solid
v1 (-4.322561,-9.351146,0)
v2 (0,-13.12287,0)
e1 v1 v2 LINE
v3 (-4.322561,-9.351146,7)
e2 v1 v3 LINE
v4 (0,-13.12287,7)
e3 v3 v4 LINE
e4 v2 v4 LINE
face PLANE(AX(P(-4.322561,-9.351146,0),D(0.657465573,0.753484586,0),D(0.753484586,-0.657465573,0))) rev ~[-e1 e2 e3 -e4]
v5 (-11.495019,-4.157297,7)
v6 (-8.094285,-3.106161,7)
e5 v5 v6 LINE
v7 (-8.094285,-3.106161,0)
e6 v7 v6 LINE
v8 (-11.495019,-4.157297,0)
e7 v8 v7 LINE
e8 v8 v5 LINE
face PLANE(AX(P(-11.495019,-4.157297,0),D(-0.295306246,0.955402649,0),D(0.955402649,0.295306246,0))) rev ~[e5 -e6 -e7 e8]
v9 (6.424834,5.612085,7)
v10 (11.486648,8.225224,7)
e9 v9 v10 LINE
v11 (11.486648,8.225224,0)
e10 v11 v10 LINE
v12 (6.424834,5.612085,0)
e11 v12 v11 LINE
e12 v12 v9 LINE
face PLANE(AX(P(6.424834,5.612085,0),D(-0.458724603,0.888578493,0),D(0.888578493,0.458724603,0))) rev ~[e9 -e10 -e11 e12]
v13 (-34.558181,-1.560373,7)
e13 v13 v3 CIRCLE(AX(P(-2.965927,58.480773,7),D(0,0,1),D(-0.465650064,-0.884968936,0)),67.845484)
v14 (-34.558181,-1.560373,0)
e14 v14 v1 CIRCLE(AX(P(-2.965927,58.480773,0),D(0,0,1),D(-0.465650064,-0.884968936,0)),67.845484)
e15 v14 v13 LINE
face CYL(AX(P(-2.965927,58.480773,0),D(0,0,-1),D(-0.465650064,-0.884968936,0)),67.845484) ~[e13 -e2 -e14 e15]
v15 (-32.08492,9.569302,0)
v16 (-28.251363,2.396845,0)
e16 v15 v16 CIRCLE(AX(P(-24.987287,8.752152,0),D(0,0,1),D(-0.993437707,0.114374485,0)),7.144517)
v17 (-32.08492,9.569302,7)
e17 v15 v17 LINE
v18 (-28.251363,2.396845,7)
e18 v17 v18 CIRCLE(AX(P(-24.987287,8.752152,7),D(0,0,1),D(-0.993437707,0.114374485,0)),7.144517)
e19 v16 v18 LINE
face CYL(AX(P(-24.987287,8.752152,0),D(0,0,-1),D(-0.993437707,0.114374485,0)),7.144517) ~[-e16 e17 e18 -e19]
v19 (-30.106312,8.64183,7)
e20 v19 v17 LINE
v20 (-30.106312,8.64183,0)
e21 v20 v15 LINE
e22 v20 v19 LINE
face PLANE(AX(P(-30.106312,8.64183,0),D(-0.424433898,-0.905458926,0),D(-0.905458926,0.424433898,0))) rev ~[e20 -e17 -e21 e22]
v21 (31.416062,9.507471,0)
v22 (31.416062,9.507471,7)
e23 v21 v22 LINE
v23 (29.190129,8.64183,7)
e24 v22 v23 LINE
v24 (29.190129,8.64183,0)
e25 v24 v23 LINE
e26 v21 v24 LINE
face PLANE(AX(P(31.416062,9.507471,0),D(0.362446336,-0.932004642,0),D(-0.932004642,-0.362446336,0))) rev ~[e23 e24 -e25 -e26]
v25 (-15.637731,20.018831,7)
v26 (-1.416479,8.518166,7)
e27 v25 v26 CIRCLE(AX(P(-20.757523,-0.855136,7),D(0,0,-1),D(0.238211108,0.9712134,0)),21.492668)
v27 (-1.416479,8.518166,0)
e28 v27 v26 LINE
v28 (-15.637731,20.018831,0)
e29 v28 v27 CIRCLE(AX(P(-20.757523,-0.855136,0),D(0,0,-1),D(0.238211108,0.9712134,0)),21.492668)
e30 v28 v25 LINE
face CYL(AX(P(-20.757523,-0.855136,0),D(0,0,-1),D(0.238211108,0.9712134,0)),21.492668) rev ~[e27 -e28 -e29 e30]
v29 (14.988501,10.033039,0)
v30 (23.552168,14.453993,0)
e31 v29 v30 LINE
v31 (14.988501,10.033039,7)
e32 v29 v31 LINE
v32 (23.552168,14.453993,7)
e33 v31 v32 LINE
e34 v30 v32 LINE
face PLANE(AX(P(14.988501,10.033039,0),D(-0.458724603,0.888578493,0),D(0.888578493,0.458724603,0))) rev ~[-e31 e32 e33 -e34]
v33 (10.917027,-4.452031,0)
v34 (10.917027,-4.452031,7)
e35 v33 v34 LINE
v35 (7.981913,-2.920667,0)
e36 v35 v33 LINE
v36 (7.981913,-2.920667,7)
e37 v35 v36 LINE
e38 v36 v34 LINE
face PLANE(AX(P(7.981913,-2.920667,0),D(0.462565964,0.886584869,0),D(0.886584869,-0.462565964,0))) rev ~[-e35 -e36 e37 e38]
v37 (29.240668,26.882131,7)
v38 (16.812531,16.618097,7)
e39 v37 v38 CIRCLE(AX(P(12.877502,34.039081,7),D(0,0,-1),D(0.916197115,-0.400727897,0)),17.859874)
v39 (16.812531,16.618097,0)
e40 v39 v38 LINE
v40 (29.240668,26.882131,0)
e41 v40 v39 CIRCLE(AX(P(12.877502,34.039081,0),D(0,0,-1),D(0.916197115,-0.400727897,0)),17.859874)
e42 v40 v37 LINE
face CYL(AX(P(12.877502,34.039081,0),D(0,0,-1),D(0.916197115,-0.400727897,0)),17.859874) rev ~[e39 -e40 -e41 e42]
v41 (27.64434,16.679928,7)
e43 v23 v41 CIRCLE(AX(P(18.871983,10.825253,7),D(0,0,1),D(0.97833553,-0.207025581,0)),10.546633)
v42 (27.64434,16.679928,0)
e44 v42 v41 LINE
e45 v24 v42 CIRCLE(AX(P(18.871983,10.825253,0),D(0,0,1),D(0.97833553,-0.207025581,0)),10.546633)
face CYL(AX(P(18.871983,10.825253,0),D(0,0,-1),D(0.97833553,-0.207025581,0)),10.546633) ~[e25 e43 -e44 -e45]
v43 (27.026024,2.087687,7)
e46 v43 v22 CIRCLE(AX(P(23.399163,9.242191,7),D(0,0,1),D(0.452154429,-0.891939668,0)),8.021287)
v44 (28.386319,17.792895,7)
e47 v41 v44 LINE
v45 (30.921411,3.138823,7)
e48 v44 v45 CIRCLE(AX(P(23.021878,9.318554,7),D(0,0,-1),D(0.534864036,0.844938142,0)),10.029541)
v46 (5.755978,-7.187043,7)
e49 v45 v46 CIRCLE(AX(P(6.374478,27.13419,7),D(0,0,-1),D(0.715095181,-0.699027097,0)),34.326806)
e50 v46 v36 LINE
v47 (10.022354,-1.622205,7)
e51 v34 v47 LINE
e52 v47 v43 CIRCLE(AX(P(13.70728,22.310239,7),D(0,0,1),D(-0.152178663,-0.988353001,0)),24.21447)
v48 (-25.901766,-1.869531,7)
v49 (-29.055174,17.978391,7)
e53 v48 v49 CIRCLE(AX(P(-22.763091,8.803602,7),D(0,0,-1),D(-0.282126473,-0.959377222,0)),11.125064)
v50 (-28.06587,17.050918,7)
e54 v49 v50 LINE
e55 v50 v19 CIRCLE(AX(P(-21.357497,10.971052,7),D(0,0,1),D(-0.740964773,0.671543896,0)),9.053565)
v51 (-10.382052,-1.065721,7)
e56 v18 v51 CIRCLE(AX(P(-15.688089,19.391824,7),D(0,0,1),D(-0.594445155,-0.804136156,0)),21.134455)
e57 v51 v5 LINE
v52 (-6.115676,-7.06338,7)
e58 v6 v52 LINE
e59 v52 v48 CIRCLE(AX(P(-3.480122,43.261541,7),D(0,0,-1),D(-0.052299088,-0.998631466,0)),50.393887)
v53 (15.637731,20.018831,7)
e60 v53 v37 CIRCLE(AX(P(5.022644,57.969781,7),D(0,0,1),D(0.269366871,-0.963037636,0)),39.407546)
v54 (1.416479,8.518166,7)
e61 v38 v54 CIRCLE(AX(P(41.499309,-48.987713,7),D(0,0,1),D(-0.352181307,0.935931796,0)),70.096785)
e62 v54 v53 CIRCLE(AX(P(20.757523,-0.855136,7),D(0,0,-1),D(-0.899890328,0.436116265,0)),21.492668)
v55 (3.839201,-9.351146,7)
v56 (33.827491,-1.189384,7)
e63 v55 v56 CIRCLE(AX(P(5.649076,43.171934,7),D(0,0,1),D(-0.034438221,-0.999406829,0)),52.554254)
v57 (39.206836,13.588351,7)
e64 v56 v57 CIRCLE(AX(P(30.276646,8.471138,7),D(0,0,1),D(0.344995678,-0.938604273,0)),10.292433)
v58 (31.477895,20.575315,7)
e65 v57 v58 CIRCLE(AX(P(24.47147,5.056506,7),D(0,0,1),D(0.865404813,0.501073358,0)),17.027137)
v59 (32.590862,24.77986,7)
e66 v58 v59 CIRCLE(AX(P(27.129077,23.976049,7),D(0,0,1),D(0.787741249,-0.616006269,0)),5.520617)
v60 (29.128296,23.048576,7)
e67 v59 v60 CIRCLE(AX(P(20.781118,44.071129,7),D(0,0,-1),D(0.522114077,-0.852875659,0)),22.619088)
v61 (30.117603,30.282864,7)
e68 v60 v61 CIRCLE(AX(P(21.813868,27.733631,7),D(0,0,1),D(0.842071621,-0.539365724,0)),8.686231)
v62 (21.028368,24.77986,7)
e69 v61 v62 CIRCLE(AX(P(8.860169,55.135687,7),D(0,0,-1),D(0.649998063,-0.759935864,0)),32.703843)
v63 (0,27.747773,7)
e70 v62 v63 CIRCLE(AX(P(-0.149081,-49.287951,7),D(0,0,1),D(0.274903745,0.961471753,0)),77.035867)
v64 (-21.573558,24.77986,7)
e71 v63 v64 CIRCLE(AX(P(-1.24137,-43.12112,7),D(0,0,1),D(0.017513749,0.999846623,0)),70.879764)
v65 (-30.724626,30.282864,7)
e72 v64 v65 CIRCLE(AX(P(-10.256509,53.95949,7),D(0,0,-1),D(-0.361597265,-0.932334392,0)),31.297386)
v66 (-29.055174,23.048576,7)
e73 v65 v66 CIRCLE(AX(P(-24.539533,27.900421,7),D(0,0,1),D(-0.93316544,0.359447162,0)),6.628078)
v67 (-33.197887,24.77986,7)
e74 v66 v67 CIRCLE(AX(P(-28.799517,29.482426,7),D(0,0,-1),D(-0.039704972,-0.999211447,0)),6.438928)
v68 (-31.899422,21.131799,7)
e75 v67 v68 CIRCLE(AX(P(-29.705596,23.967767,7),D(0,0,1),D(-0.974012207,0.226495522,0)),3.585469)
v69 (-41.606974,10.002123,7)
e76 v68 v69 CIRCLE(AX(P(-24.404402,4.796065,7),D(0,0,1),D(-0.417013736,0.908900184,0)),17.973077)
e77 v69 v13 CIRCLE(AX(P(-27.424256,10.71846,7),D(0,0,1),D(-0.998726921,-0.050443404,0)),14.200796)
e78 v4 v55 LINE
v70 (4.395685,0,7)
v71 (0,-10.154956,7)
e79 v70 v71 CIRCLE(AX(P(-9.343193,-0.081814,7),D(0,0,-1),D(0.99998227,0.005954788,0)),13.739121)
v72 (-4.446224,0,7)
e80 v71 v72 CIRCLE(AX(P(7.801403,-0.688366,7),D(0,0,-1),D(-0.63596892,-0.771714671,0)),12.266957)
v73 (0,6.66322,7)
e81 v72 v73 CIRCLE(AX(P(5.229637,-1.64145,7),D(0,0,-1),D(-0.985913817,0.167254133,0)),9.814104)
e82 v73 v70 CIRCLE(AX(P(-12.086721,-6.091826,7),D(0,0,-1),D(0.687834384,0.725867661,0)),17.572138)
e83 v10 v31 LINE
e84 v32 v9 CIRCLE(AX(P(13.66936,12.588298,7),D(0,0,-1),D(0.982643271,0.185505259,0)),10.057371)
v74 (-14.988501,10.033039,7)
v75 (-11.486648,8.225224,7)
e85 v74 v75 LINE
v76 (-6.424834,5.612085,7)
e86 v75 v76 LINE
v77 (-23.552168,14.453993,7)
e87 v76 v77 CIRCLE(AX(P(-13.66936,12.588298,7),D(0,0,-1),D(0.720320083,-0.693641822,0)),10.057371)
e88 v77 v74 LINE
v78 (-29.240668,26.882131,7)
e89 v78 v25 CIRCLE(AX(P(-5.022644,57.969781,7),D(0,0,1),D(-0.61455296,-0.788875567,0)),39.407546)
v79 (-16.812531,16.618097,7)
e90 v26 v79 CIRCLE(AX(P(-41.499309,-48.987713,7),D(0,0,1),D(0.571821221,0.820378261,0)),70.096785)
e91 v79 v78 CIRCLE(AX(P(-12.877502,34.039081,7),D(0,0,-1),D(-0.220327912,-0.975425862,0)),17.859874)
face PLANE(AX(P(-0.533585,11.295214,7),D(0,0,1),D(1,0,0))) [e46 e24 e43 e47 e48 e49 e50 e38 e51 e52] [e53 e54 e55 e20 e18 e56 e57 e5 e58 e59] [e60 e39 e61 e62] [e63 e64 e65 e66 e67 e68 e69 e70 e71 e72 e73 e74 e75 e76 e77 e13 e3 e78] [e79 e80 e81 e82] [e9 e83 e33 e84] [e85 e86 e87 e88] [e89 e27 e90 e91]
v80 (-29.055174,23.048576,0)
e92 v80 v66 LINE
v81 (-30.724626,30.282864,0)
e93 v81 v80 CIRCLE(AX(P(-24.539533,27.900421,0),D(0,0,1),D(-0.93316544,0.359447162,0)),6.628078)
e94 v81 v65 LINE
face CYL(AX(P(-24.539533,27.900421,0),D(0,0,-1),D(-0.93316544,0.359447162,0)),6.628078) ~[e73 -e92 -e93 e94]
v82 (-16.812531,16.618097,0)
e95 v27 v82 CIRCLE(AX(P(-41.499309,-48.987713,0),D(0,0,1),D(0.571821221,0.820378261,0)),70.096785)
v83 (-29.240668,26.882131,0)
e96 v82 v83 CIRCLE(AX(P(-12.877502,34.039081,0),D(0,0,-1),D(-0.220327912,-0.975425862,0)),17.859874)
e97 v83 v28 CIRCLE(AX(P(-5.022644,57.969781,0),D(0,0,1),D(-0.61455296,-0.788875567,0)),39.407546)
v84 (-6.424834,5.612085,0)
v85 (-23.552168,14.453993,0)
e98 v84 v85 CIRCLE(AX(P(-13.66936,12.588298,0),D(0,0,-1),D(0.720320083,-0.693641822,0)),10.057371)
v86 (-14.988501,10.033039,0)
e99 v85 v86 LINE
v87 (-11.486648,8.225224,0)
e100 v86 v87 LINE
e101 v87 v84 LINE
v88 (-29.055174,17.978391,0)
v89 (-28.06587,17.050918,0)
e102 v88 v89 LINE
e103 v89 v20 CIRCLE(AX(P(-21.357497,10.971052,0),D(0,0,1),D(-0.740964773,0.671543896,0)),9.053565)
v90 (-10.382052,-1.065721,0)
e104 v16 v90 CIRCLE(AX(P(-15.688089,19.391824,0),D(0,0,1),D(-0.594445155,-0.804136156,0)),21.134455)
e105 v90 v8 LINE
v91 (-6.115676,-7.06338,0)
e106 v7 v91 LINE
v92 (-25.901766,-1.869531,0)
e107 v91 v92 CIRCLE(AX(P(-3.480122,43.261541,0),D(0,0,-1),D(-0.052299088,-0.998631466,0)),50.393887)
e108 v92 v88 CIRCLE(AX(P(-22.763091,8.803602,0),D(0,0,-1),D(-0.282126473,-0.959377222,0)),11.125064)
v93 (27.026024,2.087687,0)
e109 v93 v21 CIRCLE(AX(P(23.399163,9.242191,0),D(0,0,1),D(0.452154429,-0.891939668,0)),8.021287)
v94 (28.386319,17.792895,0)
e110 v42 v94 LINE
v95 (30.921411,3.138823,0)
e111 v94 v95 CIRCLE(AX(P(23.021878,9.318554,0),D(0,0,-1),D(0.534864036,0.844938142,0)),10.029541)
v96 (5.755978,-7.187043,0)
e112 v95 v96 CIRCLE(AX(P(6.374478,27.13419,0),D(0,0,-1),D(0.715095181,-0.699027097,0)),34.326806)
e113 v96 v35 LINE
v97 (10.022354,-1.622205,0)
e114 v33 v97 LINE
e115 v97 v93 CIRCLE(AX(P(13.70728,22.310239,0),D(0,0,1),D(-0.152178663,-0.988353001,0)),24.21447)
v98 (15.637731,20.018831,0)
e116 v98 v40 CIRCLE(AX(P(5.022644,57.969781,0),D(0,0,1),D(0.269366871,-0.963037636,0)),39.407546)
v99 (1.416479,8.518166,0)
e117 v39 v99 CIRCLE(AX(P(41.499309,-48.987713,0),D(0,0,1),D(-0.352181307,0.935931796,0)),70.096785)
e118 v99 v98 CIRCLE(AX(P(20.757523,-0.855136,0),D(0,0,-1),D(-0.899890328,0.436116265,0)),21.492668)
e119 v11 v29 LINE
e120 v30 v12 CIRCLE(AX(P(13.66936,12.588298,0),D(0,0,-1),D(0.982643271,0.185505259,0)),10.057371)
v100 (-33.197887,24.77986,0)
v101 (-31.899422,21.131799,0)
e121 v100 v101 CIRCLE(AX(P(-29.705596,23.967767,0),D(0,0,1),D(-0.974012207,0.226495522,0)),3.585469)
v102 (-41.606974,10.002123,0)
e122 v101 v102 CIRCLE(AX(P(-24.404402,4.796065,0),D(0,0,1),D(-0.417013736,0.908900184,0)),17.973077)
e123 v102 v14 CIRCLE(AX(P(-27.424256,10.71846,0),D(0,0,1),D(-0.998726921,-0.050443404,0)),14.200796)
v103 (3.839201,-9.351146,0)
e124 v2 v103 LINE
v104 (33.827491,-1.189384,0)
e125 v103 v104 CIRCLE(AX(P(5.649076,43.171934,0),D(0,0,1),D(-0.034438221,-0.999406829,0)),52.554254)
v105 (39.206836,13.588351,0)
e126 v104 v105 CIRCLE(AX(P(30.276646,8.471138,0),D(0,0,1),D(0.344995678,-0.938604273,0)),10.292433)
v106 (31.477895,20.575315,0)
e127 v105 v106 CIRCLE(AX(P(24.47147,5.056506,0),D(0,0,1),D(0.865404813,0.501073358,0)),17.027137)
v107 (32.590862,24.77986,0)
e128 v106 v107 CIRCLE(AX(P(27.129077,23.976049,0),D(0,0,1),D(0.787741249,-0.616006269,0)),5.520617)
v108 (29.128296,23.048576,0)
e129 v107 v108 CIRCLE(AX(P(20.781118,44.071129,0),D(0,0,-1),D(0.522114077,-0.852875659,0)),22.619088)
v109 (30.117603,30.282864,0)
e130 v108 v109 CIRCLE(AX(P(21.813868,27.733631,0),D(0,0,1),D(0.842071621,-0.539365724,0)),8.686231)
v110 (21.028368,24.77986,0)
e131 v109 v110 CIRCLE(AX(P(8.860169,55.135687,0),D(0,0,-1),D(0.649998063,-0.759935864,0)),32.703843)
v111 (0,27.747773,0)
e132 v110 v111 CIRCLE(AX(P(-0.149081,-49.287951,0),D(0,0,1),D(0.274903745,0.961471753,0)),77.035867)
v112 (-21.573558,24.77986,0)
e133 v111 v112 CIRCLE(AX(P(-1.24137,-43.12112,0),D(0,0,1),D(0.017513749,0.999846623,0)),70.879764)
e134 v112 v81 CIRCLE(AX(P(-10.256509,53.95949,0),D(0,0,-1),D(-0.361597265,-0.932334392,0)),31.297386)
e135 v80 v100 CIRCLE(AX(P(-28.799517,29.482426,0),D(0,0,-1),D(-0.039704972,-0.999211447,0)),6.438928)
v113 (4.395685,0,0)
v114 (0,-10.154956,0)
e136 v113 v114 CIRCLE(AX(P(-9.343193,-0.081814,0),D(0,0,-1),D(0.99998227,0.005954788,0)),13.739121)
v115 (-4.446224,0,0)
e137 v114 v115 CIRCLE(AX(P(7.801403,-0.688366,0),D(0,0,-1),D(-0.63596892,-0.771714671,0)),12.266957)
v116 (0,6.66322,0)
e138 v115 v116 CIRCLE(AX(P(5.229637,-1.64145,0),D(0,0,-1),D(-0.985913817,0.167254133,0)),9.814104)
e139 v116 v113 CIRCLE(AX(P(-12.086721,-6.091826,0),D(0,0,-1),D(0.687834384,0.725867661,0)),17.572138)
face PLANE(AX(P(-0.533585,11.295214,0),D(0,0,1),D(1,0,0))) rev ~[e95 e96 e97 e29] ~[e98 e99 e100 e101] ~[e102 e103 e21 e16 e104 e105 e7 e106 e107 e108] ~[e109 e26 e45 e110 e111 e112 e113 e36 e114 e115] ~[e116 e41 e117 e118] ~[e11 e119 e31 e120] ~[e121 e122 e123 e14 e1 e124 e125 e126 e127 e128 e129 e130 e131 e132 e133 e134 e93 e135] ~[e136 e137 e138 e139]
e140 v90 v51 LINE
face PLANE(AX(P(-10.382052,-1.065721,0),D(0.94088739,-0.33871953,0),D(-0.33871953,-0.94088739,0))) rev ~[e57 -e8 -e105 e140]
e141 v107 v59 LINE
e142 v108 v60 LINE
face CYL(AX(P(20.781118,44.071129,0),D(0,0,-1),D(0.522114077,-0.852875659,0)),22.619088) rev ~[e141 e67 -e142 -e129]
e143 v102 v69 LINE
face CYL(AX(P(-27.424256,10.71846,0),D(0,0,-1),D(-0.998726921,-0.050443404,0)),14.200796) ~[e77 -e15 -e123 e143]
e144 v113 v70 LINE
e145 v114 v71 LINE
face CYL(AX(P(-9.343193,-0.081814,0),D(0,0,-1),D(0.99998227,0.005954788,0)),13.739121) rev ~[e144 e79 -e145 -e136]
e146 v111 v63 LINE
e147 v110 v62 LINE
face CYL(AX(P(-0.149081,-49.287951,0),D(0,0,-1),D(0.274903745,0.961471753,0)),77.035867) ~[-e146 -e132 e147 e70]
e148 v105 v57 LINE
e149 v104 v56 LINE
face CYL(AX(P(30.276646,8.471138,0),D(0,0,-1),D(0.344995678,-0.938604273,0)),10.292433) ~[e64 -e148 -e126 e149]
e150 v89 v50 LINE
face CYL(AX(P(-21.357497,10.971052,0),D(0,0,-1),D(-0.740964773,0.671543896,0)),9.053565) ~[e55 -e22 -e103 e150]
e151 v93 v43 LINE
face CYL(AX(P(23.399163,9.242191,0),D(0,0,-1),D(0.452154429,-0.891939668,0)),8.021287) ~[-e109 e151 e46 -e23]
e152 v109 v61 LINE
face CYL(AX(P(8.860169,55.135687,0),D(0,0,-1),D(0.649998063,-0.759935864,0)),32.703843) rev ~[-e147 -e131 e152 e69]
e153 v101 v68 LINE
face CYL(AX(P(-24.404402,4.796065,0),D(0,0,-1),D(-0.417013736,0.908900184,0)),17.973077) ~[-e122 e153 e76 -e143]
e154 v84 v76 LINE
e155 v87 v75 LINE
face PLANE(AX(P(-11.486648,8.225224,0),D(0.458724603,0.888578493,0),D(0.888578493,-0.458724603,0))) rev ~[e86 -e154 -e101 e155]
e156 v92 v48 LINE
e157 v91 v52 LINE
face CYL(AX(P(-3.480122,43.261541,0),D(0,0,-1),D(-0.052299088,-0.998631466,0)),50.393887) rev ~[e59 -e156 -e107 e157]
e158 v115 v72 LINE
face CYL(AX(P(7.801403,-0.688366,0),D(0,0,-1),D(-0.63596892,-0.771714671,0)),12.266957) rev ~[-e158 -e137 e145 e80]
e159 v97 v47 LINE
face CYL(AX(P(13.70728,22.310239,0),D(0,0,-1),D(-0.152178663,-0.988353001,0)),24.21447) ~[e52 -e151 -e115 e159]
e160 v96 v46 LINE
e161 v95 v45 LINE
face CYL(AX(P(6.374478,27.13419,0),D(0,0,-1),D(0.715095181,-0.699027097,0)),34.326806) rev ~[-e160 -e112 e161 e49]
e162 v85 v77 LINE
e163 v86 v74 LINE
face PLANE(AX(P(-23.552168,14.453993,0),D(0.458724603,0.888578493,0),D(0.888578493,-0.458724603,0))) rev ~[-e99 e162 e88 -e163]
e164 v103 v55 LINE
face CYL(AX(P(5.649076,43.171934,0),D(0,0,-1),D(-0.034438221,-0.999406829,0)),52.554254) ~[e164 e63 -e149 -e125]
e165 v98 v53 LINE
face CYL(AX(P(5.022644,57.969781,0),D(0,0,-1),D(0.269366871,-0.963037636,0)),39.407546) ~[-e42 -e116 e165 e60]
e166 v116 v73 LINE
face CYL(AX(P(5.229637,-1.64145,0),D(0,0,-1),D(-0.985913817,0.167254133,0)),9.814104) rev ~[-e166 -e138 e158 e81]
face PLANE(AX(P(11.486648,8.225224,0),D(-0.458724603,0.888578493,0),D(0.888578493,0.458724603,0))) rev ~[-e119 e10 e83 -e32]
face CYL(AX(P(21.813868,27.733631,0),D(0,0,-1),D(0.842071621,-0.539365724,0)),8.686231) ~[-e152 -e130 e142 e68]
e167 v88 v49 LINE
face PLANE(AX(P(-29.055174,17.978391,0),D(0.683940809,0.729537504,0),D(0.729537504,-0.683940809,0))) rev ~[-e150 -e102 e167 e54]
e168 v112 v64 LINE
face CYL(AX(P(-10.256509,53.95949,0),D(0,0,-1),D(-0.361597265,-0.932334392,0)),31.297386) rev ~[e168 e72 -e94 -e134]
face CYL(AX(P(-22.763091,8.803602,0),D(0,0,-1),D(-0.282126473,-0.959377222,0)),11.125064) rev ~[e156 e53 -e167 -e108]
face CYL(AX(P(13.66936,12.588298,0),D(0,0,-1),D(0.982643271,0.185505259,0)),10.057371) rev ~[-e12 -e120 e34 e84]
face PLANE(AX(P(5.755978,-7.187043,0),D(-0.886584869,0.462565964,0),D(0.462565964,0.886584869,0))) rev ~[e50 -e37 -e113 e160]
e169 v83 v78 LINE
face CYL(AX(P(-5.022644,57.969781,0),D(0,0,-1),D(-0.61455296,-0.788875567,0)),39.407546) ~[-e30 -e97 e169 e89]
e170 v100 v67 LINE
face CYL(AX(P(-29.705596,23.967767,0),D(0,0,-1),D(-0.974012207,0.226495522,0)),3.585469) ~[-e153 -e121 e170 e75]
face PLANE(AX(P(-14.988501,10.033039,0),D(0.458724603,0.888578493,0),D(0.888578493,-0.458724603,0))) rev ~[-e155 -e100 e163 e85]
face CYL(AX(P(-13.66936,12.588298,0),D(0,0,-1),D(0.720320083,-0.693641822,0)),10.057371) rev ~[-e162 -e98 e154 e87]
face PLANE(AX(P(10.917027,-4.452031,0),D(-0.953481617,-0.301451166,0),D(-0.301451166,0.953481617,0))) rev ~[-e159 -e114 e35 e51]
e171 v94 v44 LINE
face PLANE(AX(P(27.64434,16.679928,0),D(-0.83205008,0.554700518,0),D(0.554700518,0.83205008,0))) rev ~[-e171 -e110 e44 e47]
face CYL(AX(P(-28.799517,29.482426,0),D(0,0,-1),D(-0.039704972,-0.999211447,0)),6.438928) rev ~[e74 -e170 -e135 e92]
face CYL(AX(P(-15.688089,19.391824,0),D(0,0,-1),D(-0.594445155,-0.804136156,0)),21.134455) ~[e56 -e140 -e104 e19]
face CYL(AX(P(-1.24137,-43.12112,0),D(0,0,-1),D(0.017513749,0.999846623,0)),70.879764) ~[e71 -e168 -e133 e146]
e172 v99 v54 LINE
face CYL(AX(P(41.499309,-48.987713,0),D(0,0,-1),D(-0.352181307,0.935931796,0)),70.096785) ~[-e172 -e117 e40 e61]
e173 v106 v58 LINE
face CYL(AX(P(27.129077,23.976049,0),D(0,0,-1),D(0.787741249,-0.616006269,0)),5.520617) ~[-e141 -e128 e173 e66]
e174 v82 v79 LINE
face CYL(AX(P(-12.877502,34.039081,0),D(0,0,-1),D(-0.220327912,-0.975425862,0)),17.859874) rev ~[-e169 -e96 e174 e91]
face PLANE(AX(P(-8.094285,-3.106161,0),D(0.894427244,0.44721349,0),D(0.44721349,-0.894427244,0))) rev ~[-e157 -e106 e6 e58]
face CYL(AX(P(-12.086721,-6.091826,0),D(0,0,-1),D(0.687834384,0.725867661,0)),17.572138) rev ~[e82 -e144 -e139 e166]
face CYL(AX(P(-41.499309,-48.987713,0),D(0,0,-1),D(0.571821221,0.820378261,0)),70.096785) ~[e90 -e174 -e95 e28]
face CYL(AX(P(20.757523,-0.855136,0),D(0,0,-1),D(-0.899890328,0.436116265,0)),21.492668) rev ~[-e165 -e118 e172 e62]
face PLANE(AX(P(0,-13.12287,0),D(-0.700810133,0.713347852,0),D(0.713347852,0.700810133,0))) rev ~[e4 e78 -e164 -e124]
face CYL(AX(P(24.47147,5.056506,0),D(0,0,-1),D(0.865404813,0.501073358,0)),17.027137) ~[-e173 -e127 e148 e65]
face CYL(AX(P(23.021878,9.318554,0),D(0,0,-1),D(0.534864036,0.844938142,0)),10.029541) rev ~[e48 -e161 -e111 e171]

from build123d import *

# Parameters (mm, degrees)
F1_DEPTH = 7


with BuildPart() as f1:
    # F0 (on Top) → F1 (new body)
    with BuildSketch(Plane.XY):
        with BuildLine():
            ThreePointArc((-33.1978872418, 24.7798599303), (-33.0834757558, 22.7654689427), (-31.8994224072, 21.131798625))
            ThreePointArc((-31.8994224072, 21.131798625), (-37.9491495245, 16.6100964199), (-41.6069738567, 10.002123192))
            ThreePointArc((-41.6069738567, 10.002123192), (-39.5495454522, 3.3265737687), (-34.5581807196, -1.5603731154))
            ThreePointArc((-34.5581807196, -1.5603731154), (-19.8946406078, -7.2187581256), (-4.3225614354, -9.3511464074))
            Line((-4.3225614354, -9.3511464074), (0, -13.1228696555))
            Line((0, -13.1228696555), (3.8392005954, -9.3511464074))
            ThreePointArc((3.8392005954, -9.3511464074), (19.4504731476, -7.5377401012), (33.8274911046, -1.1893837946))
            ThreePointArc((33.8274911046, -1.1893837946), (39.9482242909, 4.9505196785), (39.2068363726, 13.5883511975))
            ThreePointArc((39.2068363726, 13.5883511975), (35.8899105198, 17.6875243488), (31.477894634, 20.5753147602))
            ThreePointArc((31.477894634, 20.5753147602), (32.4658862333, 22.5633647209), (32.5908623636, 24.7798599303))
            ThreePointArc((32.5908623636, 24.7798599303), (30.8966861442, 23.8400043647), (29.1282963008, 23.0485759676))
            ThreePointArc((29.1282963008, 23.0485759676), (30.4199988214, 26.5567217253), (30.1176030189, 30.2828643471))
            ThreePointArc((30.1176030189, 30.2828643471), (25.7979668662, 27.1597634239), (21.0283678025, 24.7798599303))
            ThreePointArc((21.0283678025, 24.7798599303), (10.6169463492, 26.9919126813), (0, 27.747772634))
            ThreePointArc((0, 27.747772634), (-10.9014405907, 27.0972820622), (-21.5735584497, 24.7798599303))
            ThreePointArc((-21.5735584497, 24.7798599303), (-26.3855190932, 27.1382027062), (-30.7246260345, 30.2828643471))
            ThreePointArc((-30.7246260345, 30.2828643471), (-30.9978734662, 26.4100339617), (-29.0551744401, 23.0485759676))
            ThreePointArc((-29.0551744401, 23.0485759676), (-31.282323769, 23.5414279438), (-33.1978872418, 24.7798599303))
        make_face()
        with BuildLine():
            ThreePointArc((-25.9017664939, -1.8695309991), (-33.7503475703, 7.0579634382), (-29.0551744401, 17.9783906788))
            Line((-29.0551744401, 17.9783906788), (-28.0658695847, 17.0509181917))
            ThreePointArc((-28.0658695847, 17.0509181917), (-30.1557554553, 13.105925168), (-30.106311664, 8.6418297142))
            Line((-30.106311664, 8.6418297142), (-32.0849195123, 9.5693022013))
            ThreePointArc((-32.0849195123, 9.5693022013), (-31.2882621481, 5.3843879138), (-28.2513629645, 2.3968447931))
            ThreePointArc((-28.2513629645, 2.3968447931), (-19.7085629501, -1.3566931507), (-10.3820515797, -1.0657209205))
            Line((-10.3820515797, -1.0657209205), (-11.4950193092, -4.1572973132))
            Line((-11.4950193092, -4.1572973132), (-8.0942846835, -3.1061612535))
            Line((-8.0942846835, -3.1061612535), (-6.1156759039, -7.0633799769))
            ThreePointArc((-6.1156759039, -7.0633799769), (-16.2750356162, -5.4809865628), (-25.9017664939, -1.8695309991))
        make_face(mode=Mode.SUBTRACT)
        with BuildLine():
            ThreePointArc((-6.4248335548, 5.6120846421), (-18.2829236305, 3.6515341791), (-23.5521681607, 14.4539931789))
            Line((-23.5521681607, 14.4539931789), (-14.9885008577, 10.0330389105))
            Line((-14.9885008577, 10.0330389105), (-11.4866484755, 8.2252235565))
            Line((-11.4866484755, 8.2252235565), (-6.4248335548, 5.6120846421))
        make_face(mode=Mode.SUBTRACT)
        with BuildLine():
            ThreePointArc((0, -10.1549560204), (-3.4356645233, -5.608379356), (-4.4462243095, 0))
            ThreePointArc((-4.4462243095, 0), (-2.9338853411, 3.8058939588), (0, 6.6632204689))
            ThreePointArc((0, 6.6632204689), (2.5812160346, 3.5845194486), (4.395684693, 0))
            ThreePointArc((4.395684693, 0), (3.2653866019, -5.5395763131), (0, -10.1549560204))
        make_face(mode=Mode.SUBTRACT)
        with BuildLine():
            ThreePointArc((28.3863190562, 17.7928954363), (32.9046262681, 11.0282269807), (30.9214107692, 3.138822969))
            ThreePointArc((30.9214107692, 3.138822969), (19.4051476303, -4.6231903079), (5.7559781708, -7.187042851))
            Line((5.7559781708, -7.187042851), (7.9819131643, -2.9206669424))
            Line((7.9819131643, -2.9206669424), (10.9170274232, -4.4520307225))
            Line((10.9170274232, -4.4520307225), (10.0223543122, -1.6222046688))
            ThreePointArc((10.0223543122, -1.6222046688), (18.8690080758, -1.3476793334), (27.0260237157, 2.0876871422))
            ThreePointArc((27.0260237157, 2.0876871422), (30.3026103064, 5.1576516383), (31.4160622656, 9.5074707642))
            Line((31.4160622656, 9.5074707642), (29.1901286691, 8.6418297142))
            ThreePointArc((29.1901286691, 8.6418297142), (29.2288443333, 12.8169576264), (27.6443399489, 16.6799277067))
            Line((27.6443399489, 16.6799277067), (28.3863190562, 17.7928954363))
        make_face(mode=Mode.SUBTRACT)
        with BuildLine():
            Line((11.4866484755, 8.2252235565), (14.9885008577, 10.0330389105))
            Line((14.9885008577, 10.0330389105), (23.5521681607, 14.4539931789))
            ThreePointArc((23.5521681607, 14.4539931789), (18.2829236305, 3.6515341791), (6.4248335548, 5.6120846421))
            Line((6.4248335548, 5.6120846421), (11.4866484755, 8.2252235565))
        make_face(mode=Mode.SUBTRACT)
        with BuildLine():
            ThreePointArc((-16.8125312775, 16.618097201), (-24.2503546691, 20.26833819), (-29.24066782, 26.8821306527))
            ThreePointArc((-29.24066782, 26.8821306527), (-22.7740559507, 22.7868013128), (-15.6377311796, 20.0188308954))
            ThreePointArc((-15.6377311796, 20.0188308954), (-7.2427370511, 15.8566956525), (-1.4164794702, 8.5181659088))
            ThreePointArc((-1.4164794702, 8.5181659088), (-8.8622483515, 13.047612435), (-16.8125312775, 16.618097201))
        make_face(mode=Mode.SUBTRACT)
        with BuildLine():
            ThreePointArc((16.8125312775, 16.618097201), (8.8622483515, 13.047612435), (1.4164794702, 8.5181659088))
            ThreePointArc((1.4164794702, 8.5181659088), (7.2427370511, 15.8566956525), (15.6377311796, 20.0188308954))
            ThreePointArc((15.6377311796, 20.0188308954), (22.7740559507, 22.7868013128), (29.24066782, 26.8821306527))
            ThreePointArc((29.24066782, 26.8821306527), (24.2503546691, 20.26833819), (16.8125312775, 16.618097201))
        make_face(mode=Mode.SUBTRACT)
    extrude(amount=F1_DEPTH)


solid = f1.part
